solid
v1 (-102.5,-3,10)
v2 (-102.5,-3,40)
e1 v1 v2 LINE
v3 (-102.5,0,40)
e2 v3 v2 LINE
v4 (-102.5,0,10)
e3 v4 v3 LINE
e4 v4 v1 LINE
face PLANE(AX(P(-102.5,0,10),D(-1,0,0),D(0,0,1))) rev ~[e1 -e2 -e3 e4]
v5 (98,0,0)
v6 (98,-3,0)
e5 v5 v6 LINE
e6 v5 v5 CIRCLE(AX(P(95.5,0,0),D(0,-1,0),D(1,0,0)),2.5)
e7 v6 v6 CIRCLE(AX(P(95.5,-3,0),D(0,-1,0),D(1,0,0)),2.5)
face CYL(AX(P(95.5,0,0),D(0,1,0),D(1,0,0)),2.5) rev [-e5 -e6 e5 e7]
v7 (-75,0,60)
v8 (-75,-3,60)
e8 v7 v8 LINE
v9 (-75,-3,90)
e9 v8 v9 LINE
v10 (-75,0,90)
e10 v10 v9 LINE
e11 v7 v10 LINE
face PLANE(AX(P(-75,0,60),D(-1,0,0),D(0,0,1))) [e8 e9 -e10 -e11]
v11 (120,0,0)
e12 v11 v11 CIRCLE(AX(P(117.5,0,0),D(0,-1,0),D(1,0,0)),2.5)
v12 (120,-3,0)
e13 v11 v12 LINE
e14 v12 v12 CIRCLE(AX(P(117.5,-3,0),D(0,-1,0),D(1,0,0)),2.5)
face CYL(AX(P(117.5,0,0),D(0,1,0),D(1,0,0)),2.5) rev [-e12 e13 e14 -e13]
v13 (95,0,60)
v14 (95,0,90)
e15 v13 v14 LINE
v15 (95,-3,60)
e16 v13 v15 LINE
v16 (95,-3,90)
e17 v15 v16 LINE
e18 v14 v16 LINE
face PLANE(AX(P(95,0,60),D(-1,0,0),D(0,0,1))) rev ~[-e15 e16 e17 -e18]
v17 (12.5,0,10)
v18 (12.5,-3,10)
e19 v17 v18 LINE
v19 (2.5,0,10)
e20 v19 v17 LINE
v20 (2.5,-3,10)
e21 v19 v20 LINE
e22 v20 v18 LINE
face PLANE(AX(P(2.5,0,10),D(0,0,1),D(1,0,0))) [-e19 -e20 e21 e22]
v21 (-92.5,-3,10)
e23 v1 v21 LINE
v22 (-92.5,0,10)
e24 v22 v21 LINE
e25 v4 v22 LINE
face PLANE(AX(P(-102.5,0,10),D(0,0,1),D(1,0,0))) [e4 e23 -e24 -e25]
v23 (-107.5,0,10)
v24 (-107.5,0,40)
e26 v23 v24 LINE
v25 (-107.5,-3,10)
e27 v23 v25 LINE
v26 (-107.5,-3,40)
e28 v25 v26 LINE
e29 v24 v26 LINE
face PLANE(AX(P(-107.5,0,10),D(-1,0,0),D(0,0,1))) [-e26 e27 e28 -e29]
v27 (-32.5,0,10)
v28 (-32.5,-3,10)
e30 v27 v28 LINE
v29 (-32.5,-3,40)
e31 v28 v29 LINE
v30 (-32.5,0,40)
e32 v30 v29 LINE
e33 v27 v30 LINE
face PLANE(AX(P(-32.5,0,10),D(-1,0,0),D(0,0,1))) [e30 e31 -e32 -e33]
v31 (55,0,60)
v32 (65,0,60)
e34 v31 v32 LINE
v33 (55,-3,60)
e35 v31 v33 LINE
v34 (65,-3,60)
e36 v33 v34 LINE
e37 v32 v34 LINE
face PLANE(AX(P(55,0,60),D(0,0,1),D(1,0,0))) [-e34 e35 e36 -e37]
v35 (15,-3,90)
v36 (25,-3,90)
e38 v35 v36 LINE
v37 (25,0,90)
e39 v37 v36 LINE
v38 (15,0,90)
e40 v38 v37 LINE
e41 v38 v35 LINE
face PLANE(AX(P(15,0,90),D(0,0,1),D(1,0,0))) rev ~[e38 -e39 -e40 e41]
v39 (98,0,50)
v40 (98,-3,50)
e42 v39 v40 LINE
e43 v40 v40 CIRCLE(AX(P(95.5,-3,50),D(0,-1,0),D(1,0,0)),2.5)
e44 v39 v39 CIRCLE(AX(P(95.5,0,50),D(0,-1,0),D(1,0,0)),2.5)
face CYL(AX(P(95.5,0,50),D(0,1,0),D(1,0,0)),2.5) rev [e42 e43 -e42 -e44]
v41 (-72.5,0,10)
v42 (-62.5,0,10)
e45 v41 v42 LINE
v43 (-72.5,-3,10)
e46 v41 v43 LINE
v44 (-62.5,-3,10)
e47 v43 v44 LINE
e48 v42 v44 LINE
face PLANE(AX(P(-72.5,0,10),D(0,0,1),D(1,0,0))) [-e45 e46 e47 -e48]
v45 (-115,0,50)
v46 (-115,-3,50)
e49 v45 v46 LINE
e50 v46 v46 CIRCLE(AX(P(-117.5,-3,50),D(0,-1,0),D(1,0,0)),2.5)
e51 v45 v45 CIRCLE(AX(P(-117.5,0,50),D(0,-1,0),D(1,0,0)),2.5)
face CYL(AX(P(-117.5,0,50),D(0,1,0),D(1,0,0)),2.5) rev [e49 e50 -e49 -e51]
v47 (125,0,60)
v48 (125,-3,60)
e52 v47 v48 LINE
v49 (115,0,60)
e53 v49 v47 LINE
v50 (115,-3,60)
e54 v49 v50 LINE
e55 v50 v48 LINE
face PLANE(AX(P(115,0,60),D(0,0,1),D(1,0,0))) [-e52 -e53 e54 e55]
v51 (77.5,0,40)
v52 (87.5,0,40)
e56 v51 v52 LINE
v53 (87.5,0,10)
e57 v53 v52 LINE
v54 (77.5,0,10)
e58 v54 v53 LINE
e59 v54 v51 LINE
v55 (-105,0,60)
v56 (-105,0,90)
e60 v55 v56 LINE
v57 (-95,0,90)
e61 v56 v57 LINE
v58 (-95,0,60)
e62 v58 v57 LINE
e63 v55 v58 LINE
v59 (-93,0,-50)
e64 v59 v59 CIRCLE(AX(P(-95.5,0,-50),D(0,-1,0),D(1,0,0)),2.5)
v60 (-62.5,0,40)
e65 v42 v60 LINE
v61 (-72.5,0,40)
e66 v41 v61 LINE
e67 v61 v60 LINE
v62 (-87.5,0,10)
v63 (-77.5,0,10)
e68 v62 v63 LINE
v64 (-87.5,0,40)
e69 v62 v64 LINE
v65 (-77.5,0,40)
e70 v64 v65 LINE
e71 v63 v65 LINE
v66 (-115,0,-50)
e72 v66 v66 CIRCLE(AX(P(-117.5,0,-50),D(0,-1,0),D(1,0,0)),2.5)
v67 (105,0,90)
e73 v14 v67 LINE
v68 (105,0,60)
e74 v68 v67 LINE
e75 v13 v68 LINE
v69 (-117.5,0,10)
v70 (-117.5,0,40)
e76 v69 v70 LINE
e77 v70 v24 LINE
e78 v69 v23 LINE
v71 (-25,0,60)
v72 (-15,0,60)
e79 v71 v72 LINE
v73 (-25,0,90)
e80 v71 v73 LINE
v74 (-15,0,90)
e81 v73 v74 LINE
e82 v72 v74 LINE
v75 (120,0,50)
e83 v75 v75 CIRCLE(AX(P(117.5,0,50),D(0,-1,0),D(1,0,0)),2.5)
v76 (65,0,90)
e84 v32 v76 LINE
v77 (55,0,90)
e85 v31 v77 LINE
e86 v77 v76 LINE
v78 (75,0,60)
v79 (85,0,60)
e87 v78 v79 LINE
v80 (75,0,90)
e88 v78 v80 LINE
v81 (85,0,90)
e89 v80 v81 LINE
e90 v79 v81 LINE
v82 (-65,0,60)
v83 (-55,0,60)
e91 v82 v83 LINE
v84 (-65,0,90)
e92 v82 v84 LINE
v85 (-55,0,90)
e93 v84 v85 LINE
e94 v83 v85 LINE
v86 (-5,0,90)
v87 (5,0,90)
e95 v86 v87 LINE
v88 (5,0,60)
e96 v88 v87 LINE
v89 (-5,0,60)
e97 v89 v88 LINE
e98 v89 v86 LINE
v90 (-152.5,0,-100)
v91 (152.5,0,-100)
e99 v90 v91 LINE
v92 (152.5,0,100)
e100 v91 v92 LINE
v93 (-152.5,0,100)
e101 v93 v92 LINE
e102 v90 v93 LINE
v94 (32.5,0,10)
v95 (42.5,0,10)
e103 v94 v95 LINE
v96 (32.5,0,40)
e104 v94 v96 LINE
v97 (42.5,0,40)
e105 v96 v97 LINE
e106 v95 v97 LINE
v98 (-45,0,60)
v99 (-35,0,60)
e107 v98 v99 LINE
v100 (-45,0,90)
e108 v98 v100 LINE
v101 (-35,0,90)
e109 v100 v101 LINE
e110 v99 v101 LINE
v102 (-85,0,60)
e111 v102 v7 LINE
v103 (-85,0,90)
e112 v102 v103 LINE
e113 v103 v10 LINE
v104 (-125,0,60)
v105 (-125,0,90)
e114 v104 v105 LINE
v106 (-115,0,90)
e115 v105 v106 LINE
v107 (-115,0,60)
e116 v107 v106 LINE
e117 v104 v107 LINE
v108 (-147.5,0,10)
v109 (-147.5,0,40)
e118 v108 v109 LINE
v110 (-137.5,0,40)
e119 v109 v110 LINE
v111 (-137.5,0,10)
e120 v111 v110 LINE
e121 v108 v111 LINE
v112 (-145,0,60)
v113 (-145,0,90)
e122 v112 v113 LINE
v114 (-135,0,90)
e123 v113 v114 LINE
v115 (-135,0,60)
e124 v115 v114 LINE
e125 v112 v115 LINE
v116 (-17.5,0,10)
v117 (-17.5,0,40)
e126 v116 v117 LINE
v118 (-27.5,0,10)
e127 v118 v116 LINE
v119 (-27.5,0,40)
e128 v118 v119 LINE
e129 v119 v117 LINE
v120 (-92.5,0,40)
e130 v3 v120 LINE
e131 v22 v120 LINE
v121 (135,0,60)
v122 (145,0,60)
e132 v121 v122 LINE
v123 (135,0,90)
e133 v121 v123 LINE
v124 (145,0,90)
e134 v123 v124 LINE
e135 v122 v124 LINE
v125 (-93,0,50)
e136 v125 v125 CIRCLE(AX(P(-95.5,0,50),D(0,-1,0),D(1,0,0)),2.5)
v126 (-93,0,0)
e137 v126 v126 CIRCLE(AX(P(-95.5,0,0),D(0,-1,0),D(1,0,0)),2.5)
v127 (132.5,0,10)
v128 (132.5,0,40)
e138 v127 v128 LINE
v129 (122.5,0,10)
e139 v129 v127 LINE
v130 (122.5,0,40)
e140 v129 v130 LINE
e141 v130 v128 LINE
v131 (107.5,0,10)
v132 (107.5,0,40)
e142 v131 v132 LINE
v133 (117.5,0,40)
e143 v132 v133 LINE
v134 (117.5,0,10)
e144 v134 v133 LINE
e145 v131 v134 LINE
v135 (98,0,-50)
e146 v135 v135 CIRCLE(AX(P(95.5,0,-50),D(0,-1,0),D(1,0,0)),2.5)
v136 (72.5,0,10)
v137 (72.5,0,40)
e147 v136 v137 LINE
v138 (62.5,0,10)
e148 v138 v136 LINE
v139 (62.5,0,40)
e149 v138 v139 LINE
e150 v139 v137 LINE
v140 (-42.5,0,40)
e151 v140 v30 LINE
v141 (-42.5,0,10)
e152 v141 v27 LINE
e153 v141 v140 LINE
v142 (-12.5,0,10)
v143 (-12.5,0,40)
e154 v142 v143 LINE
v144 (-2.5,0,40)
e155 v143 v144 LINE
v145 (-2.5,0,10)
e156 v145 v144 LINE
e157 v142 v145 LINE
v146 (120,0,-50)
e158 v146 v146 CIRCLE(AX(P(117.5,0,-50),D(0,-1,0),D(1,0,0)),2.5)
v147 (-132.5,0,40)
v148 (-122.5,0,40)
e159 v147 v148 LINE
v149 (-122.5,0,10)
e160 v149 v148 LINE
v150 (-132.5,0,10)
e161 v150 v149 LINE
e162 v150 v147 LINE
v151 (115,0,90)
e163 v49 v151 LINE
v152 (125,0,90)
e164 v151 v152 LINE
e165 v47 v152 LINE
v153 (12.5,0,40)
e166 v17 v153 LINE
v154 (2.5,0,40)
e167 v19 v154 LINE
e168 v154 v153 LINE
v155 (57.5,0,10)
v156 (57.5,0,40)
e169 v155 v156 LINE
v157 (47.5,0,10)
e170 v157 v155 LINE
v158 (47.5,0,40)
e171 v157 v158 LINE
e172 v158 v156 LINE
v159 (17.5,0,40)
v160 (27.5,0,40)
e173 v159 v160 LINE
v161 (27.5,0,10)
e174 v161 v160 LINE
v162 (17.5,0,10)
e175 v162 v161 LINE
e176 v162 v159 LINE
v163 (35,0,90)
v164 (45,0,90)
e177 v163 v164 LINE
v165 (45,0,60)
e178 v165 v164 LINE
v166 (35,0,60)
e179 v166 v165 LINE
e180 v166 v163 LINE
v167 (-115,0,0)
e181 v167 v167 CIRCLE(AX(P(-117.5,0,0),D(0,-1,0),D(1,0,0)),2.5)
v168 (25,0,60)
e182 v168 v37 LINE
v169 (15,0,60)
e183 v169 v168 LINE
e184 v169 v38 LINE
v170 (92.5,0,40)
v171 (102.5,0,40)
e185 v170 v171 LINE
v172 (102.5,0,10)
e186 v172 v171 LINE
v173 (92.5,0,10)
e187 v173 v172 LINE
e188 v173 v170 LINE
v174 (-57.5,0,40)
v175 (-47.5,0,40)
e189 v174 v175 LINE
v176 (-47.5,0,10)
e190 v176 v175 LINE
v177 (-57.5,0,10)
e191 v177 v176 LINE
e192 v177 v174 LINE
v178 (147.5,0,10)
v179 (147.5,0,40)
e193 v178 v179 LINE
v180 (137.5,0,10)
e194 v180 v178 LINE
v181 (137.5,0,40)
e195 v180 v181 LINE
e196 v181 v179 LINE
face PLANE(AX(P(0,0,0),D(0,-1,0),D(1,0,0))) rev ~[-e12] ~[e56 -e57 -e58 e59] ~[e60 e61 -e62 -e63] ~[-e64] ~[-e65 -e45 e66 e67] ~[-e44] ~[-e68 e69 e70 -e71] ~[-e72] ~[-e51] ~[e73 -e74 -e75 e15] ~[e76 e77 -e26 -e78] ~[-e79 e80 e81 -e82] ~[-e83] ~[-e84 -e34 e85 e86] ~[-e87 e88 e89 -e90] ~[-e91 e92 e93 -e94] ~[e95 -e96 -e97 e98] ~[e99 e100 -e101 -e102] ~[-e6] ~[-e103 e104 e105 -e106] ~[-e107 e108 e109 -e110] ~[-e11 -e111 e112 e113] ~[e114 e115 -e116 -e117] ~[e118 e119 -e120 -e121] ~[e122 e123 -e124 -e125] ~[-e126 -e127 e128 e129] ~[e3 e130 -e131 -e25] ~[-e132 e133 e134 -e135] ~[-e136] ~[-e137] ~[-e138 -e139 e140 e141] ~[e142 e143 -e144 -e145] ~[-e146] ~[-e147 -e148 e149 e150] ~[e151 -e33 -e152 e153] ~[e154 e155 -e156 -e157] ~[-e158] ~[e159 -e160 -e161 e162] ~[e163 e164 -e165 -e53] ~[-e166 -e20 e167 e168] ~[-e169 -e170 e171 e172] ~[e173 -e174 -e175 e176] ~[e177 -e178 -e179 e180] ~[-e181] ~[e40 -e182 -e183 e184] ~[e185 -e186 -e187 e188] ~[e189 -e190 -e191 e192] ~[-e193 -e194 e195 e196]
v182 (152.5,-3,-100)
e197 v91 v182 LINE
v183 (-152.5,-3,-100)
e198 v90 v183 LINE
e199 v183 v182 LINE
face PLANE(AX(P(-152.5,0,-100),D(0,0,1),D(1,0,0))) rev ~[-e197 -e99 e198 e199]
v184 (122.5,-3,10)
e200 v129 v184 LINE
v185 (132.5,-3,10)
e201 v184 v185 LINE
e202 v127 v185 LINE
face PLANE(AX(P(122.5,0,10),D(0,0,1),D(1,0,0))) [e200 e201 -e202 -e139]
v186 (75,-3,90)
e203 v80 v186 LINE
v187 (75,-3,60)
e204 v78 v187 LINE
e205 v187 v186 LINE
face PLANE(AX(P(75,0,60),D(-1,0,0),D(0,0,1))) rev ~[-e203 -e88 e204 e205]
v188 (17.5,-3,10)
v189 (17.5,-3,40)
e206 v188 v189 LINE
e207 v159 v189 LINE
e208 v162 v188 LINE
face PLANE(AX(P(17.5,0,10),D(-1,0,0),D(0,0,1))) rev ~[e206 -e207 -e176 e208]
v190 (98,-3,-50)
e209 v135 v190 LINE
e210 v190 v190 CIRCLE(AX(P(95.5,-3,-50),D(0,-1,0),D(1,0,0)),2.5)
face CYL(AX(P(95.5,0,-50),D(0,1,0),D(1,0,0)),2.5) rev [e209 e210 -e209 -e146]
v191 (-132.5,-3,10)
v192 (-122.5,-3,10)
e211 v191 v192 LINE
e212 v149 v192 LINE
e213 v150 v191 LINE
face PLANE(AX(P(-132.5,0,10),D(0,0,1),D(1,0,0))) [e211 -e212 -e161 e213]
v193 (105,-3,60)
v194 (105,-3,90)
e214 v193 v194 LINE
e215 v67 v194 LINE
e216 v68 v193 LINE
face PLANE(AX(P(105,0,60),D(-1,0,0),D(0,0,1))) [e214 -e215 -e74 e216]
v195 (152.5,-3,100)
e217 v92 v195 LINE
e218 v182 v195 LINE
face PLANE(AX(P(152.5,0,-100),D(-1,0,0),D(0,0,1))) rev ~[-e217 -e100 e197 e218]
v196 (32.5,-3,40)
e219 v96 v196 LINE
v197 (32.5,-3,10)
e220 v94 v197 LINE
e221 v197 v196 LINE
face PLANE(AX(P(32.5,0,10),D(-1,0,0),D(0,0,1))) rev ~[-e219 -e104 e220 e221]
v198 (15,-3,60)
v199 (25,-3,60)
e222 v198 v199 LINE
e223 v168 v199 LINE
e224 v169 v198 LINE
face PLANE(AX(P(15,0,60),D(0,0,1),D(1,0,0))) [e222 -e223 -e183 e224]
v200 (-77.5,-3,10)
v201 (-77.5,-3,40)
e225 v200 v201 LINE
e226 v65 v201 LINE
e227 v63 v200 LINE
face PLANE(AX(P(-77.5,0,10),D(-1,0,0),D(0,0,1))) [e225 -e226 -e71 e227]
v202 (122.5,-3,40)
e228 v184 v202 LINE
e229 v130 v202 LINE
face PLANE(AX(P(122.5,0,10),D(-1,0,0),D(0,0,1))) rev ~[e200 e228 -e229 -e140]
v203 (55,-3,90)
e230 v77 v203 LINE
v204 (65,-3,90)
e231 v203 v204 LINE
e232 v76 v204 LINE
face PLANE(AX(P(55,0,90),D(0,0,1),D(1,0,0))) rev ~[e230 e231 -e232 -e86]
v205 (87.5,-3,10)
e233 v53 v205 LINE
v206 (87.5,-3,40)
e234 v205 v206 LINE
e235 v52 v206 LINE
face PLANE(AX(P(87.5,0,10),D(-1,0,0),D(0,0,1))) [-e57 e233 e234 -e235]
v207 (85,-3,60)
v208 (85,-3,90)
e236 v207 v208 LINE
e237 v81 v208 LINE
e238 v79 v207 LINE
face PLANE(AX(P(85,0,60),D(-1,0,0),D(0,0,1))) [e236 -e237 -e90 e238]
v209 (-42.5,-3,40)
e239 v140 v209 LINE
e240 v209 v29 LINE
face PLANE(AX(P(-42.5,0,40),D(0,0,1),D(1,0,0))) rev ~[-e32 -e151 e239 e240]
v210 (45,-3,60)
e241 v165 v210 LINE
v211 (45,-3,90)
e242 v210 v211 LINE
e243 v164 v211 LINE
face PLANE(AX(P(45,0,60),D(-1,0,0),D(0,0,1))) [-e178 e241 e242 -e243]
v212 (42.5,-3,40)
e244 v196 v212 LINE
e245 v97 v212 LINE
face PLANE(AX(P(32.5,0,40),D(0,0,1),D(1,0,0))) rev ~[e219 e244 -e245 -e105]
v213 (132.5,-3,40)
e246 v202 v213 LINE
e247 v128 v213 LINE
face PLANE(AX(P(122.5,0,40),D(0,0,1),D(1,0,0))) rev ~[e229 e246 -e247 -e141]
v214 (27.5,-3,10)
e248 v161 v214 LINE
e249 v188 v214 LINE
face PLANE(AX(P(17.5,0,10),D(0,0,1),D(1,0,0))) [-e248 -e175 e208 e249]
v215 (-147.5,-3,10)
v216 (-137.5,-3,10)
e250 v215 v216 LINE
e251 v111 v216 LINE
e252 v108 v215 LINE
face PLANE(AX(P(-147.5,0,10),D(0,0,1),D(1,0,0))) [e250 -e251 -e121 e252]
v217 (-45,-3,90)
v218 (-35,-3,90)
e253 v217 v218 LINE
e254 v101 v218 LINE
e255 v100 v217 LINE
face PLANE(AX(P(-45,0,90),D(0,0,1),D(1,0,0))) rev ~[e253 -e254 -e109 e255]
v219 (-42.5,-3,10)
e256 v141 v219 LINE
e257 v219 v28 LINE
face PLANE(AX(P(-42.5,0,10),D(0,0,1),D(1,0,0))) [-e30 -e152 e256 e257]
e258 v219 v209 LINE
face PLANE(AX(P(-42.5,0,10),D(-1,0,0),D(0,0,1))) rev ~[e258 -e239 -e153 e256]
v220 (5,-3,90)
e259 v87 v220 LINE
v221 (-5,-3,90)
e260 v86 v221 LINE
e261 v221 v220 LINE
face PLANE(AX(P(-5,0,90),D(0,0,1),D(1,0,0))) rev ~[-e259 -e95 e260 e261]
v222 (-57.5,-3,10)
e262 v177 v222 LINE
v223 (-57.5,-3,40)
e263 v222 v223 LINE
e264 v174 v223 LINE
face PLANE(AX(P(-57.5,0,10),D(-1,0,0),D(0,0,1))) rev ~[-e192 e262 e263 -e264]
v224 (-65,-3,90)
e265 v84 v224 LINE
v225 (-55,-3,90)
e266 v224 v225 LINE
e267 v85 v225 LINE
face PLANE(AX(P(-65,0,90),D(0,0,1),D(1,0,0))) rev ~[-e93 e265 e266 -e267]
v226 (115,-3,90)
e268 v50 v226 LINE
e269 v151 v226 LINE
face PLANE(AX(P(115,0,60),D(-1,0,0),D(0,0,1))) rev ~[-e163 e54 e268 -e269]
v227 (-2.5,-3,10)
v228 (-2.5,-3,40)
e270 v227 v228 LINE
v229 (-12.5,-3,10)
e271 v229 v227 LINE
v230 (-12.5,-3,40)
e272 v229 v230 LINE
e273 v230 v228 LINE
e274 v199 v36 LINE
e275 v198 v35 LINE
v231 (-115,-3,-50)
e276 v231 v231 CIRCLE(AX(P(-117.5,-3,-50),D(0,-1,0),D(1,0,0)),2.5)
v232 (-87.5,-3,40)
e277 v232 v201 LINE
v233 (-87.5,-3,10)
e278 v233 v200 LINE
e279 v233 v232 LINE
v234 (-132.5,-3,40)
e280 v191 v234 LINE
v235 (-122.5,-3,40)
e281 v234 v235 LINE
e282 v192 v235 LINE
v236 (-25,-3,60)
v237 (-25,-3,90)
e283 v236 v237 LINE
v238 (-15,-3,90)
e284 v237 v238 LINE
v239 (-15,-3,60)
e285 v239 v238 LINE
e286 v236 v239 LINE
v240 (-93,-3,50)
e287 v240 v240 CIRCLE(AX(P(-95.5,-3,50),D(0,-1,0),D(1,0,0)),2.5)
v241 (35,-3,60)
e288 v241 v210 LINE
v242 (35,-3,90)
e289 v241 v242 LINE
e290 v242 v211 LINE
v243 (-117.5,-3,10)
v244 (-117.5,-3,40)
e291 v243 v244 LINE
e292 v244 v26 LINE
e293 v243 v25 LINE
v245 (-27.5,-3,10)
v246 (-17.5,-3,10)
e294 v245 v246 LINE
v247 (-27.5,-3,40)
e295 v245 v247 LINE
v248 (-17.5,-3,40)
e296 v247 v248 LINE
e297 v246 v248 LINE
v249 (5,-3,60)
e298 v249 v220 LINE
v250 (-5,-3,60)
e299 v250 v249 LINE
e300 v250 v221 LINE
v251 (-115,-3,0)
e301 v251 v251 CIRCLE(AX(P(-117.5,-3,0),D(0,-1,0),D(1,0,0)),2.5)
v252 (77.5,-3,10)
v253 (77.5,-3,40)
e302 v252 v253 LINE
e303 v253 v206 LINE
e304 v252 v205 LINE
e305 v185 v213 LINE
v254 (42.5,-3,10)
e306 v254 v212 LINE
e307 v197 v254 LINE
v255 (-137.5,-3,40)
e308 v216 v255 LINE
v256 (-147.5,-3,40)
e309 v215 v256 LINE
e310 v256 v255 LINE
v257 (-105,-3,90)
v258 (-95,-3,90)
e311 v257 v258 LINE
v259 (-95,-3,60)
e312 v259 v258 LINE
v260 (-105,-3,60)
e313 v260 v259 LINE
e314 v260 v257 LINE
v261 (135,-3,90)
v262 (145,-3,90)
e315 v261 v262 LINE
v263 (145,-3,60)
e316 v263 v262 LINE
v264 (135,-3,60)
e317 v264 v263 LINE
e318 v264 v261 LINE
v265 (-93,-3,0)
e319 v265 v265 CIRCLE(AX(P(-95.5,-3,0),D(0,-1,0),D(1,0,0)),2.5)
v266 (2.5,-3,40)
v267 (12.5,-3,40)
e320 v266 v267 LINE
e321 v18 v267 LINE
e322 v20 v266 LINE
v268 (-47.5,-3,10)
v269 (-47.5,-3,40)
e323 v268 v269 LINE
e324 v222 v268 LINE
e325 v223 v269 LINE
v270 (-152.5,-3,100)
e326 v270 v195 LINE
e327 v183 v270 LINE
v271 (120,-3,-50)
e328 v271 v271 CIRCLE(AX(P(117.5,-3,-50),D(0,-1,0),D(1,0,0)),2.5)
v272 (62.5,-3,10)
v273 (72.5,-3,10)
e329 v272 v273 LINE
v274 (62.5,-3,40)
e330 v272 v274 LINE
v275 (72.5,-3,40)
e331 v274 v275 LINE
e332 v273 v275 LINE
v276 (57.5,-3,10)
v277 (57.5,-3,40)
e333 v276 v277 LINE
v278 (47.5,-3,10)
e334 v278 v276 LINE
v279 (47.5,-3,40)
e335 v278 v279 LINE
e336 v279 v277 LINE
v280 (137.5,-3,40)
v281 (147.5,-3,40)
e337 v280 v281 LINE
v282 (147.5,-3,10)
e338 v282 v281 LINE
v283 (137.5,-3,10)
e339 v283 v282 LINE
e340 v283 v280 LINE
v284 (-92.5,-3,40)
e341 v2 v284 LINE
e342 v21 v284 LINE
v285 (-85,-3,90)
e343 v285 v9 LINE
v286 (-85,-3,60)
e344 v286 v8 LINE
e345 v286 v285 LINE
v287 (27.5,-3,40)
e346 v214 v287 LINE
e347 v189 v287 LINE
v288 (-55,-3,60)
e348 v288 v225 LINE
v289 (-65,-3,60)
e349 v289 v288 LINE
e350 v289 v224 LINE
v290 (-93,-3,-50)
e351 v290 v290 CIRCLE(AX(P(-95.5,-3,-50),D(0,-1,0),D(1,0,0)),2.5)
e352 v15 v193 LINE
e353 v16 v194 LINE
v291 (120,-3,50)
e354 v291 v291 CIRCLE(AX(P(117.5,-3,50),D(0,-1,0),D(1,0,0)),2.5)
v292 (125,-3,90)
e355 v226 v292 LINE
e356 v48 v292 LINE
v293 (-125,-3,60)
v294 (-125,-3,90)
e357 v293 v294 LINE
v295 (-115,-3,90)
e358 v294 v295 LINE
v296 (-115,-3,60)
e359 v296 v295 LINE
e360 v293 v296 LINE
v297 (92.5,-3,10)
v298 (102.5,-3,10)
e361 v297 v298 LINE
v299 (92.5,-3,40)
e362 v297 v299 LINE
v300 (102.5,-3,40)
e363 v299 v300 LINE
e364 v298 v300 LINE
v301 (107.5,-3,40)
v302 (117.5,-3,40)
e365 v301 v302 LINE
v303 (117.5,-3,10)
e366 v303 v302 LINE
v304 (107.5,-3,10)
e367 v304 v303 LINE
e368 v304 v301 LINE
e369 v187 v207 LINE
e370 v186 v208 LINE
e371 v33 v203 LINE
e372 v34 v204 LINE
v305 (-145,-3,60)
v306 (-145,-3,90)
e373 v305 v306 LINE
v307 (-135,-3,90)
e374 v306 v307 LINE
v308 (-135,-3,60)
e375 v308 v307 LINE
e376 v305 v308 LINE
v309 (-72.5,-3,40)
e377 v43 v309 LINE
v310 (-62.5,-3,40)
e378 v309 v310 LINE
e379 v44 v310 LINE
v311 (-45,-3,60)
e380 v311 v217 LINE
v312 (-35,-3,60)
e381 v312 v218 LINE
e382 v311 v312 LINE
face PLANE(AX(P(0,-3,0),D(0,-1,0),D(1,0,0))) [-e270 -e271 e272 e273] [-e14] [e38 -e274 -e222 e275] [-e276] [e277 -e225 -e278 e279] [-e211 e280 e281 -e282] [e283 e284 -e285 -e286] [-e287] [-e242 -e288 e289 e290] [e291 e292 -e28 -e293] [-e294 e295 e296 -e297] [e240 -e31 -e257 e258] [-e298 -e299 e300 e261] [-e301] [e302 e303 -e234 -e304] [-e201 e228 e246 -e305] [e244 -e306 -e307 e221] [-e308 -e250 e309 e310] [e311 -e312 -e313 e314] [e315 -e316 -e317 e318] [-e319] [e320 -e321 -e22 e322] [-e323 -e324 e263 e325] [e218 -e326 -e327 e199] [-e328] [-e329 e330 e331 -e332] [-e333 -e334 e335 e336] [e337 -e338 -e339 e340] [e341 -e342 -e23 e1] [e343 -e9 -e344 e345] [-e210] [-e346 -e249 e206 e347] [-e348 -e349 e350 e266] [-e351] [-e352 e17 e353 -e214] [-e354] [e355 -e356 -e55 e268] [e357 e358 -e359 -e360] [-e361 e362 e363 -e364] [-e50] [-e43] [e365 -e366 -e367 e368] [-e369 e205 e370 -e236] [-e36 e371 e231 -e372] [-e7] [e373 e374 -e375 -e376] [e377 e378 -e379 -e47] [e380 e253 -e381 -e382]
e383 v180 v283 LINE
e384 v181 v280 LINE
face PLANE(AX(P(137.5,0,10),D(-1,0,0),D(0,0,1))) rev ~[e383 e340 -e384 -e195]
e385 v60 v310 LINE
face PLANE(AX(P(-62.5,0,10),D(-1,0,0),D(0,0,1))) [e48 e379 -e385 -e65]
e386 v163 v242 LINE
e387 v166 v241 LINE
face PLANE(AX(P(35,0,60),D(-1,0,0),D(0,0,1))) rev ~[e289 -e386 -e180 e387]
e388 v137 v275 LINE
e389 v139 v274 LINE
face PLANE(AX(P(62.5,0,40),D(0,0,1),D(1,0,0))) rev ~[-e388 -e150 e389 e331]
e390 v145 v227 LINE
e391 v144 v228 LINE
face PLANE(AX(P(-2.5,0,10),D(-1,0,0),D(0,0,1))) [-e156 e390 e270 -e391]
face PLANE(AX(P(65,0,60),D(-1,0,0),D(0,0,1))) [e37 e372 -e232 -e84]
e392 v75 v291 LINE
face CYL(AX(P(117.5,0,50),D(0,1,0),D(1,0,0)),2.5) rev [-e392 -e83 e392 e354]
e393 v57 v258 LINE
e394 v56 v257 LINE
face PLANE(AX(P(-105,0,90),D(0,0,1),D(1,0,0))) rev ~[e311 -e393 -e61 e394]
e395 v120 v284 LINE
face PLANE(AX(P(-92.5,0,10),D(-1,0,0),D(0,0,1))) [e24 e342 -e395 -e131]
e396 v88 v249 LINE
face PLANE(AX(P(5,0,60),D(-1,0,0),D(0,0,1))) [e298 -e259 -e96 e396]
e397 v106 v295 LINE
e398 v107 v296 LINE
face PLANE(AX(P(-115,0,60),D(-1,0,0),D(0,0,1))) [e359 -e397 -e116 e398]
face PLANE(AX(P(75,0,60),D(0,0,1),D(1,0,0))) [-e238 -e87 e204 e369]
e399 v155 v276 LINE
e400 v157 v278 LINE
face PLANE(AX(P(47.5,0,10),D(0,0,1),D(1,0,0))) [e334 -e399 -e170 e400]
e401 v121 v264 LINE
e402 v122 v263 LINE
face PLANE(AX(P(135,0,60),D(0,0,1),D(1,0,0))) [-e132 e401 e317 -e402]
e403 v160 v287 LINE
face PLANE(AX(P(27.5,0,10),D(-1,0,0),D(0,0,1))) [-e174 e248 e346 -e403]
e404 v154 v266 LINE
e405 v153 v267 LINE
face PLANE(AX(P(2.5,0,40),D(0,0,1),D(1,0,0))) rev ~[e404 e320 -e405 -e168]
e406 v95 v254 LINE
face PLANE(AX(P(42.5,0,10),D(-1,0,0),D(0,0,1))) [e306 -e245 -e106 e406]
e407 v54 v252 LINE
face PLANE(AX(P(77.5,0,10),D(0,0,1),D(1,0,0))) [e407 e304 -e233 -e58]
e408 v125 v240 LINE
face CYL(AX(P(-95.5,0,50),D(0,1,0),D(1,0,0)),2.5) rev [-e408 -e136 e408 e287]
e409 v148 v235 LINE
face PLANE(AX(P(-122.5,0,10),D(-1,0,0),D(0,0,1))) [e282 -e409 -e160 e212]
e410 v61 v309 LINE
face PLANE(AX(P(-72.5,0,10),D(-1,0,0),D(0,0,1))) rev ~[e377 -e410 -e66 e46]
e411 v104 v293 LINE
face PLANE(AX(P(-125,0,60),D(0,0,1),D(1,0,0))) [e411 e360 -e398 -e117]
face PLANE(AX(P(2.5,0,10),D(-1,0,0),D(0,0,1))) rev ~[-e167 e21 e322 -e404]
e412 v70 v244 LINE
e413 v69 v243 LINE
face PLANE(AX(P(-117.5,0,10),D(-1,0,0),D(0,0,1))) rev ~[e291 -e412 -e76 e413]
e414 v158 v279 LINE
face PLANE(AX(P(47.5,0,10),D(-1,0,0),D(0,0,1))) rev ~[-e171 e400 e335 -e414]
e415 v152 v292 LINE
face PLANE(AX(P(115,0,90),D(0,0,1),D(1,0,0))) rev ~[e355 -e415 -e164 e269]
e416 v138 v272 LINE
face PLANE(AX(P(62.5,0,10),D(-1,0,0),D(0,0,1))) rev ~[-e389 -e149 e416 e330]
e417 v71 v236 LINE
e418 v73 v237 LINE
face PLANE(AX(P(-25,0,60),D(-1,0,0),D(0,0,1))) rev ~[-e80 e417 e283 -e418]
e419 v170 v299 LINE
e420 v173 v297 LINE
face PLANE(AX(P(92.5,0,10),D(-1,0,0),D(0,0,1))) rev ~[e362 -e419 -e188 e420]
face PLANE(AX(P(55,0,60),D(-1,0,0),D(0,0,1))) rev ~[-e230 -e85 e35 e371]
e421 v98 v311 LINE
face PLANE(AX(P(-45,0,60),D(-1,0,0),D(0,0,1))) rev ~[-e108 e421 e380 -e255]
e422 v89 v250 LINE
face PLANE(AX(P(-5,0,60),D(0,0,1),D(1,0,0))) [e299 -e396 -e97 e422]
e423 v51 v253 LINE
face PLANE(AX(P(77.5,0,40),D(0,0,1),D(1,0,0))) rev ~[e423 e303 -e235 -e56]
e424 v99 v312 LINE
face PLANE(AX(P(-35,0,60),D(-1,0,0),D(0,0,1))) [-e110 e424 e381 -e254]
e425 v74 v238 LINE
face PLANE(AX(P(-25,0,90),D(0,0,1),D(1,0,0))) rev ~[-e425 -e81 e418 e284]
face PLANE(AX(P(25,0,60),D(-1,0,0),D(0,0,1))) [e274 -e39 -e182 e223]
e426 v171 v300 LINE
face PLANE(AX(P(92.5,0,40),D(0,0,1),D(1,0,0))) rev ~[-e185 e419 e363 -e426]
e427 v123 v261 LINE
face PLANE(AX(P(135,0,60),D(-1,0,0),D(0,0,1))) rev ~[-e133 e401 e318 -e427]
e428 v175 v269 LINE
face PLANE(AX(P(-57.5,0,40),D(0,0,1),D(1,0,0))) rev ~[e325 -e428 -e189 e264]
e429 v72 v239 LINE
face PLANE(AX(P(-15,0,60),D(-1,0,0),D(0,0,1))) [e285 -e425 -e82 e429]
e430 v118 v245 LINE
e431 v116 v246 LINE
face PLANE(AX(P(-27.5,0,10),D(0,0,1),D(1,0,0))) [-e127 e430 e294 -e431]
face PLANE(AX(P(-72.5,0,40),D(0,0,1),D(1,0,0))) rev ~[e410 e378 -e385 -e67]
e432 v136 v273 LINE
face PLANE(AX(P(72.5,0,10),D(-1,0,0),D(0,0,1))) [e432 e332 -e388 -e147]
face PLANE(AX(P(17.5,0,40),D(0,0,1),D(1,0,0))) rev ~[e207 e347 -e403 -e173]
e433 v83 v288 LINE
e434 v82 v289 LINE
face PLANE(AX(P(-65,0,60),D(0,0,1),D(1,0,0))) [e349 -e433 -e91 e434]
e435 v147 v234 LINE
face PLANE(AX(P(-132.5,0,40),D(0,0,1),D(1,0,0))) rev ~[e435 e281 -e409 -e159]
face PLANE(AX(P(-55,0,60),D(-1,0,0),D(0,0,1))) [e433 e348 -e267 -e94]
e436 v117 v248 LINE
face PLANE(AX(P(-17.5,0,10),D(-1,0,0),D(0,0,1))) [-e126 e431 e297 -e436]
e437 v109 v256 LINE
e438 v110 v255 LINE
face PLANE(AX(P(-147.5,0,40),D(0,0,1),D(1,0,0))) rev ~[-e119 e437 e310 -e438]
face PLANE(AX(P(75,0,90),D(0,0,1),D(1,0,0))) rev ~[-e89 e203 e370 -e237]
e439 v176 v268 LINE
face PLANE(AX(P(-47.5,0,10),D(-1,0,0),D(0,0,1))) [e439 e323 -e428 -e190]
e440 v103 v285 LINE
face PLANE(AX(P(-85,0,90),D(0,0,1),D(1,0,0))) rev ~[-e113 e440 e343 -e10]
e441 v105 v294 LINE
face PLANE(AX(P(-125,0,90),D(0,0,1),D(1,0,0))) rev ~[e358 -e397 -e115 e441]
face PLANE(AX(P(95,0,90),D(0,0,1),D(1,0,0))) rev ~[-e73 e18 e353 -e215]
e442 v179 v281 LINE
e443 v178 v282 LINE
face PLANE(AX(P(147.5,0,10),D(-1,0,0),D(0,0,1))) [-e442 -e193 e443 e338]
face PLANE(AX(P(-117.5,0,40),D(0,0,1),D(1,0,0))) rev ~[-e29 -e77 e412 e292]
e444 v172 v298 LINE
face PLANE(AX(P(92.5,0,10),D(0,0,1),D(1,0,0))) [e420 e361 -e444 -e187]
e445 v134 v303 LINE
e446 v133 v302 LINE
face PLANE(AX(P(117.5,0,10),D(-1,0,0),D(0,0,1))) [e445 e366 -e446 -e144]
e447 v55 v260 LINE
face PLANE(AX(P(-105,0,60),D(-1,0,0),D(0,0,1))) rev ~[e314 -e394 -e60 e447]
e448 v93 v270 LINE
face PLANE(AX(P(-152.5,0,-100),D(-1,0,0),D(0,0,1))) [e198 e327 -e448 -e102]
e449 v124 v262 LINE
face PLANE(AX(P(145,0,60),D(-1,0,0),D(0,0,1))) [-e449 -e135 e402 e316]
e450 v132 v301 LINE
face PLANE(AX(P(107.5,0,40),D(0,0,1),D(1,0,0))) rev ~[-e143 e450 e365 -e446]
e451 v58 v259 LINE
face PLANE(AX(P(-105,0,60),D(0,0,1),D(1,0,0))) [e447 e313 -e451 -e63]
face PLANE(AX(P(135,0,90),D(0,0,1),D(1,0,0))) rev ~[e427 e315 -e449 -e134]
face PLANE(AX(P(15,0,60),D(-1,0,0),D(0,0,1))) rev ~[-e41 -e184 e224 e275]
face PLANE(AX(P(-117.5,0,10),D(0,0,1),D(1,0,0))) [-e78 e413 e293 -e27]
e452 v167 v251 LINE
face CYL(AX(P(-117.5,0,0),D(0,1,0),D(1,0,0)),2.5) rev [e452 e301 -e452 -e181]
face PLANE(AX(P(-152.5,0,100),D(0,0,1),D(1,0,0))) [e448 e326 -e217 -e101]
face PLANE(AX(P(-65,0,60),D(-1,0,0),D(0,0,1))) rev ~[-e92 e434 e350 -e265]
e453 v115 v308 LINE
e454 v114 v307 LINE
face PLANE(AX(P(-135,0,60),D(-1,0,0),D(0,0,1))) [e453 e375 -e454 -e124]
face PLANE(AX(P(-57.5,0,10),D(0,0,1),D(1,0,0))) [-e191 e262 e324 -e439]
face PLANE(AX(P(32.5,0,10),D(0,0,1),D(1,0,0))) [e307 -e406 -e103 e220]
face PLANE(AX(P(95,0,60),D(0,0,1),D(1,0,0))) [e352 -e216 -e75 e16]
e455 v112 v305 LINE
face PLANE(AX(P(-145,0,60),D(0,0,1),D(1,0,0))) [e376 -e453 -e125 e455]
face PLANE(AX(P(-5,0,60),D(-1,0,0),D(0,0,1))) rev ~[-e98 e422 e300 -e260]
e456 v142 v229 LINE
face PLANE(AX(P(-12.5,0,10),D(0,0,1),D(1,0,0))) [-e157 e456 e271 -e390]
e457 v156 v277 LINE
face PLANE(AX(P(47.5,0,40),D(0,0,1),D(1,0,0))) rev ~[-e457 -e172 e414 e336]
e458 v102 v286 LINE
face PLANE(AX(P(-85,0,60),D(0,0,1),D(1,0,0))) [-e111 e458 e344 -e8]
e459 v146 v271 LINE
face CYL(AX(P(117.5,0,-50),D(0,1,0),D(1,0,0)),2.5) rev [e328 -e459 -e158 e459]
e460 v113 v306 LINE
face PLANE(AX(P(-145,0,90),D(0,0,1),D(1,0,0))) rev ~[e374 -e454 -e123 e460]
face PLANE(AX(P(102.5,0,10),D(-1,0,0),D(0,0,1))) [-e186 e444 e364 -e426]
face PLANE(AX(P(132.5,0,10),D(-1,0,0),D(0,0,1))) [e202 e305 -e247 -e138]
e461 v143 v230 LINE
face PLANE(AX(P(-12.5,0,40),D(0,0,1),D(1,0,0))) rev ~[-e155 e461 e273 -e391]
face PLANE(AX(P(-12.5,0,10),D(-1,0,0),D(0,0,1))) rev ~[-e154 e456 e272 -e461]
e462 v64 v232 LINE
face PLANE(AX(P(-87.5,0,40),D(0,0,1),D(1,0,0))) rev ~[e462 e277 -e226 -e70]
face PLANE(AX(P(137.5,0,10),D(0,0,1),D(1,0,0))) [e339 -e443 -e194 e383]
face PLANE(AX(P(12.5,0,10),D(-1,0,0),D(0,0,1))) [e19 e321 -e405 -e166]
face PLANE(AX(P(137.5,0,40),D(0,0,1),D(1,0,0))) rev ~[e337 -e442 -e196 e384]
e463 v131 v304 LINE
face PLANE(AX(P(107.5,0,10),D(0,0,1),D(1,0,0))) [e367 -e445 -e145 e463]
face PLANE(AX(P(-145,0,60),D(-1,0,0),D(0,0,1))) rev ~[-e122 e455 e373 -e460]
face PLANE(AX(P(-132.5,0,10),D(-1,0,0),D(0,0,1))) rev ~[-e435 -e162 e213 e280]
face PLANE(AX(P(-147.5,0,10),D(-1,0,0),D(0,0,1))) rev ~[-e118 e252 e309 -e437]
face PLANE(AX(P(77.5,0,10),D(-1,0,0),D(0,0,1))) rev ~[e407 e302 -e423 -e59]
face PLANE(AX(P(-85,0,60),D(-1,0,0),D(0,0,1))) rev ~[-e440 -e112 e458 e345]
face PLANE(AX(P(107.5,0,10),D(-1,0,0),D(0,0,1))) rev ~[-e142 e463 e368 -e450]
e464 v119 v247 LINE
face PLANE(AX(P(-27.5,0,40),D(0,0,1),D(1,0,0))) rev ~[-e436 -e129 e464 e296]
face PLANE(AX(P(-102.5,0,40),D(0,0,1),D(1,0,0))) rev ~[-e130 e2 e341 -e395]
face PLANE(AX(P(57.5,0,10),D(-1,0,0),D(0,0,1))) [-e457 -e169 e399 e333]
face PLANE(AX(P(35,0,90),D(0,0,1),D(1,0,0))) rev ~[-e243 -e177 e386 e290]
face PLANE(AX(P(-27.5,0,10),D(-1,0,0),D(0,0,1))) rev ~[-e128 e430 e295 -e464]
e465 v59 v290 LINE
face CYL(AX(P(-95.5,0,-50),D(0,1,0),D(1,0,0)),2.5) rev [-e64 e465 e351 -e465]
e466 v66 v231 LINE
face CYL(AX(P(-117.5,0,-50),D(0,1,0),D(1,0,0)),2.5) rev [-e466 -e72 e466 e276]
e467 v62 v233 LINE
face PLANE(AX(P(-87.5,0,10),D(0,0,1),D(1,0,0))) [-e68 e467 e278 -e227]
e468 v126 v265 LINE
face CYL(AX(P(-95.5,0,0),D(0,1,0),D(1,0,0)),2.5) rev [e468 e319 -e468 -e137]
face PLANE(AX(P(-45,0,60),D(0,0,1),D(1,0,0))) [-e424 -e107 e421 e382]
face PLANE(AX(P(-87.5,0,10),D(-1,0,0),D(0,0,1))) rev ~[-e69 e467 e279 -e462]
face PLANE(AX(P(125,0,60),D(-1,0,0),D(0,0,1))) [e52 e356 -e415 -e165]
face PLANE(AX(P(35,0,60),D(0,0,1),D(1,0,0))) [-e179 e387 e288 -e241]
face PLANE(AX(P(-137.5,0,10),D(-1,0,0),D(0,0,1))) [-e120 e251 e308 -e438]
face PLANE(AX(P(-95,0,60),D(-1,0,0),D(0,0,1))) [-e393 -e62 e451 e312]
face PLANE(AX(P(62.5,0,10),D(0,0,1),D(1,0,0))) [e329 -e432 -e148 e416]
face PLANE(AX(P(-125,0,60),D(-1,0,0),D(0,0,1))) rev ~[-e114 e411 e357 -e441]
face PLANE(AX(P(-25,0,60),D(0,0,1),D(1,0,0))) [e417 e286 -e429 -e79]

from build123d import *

# Parameters (mm, degrees)
F0_W     = 305
F0_H     = 200
F0_R     = 2.5
F0_W_2   = 10
F0_H_2   = 30
F1_DEPTH = 3


with BuildPart() as f1:
    # F0 (on Front) → F1 (new body)
    with BuildSketch(Plane.XZ):
        Rectangle(F0_W, F0_H)
        with Locations((-117.5, -50)):
            Circle(F0_R, mode=Mode.SUBTRACT)
        with Locations((-95.5, -50)):
            Circle(F0_R, mode=Mode.SUBTRACT)
        with Locations((95.5, -50)):
            Circle(F0_R, mode=Mode.SUBTRACT)
        with Locations((117.5, -50)):
            Circle(F0_R, mode=Mode.SUBTRACT)
        with Locations((-117.5, 0)):
            Circle(F0_R, mode=Mode.SUBTRACT)
        with Locations((-95.5, 0)):
            Circle(F0_R, mode=Mode.SUBTRACT)
        with Locations((-142.5, 25)):
            Rectangle(F0_W_2, F0_H_2, mode=Mode.SUBTRACT)
        with Locations((-127.5, 25)):
            Rectangle(F0_W_2, F0_H_2, mode=Mode.SUBTRACT)
        with Locations((-112.5, 25)):
            Rectangle(F0_W_2, F0_H_2, mode=Mode.SUBTRACT)
        with Locations((-97.5, 25)):
            Rectangle(F0_W_2, F0_H_2, mode=Mode.SUBTRACT)
        with Locations((-82.5, 25)):
            Rectangle(F0_W_2, F0_H_2, mode=Mode.SUBTRACT)
        with Locations((-67.5, 25)):
            Rectangle(F0_W_2, F0_H_2, mode=Mode.SUBTRACT)
        with Locations((-52.5, 25)):
            Rectangle(F0_W_2, F0_H_2, mode=Mode.SUBTRACT)
        with Locations((-37.5, 25)):
            Rectangle(F0_W_2, F0_H_2, mode=Mode.SUBTRACT)
        with Locations((-22.5, 25)):
            Rectangle(F0_W_2, F0_H_2, mode=Mode.SUBTRACT)
        with Locations((-7.5, 25)):
            Rectangle(F0_W_2, F0_H_2, mode=Mode.SUBTRACT)
        with Locations((-117.5, 50)):
            Circle(F0_R, mode=Mode.SUBTRACT)
        with Locations((-95.5, 50)):
            Circle(F0_R, mode=Mode.SUBTRACT)
        with Locations((-140, 75)):
            Rectangle(F0_W_2, F0_H_2, mode=Mode.SUBTRACT)
        with Locations((-120, 75)):
            Rectangle(F0_W_2, F0_H_2, mode=Mode.SUBTRACT)
        with Locations((-100, 75)):
            Rectangle(F0_W_2, F0_H_2, mode=Mode.SUBTRACT)
        with Locations((-80, 75)):
            Rectangle(F0_W_2, F0_H_2, mode=Mode.SUBTRACT)
        with Locations((-60, 75)):
            Rectangle(F0_W_2, F0_H_2, mode=Mode.SUBTRACT)
        with Locations((-40, 75)):
            Rectangle(F0_W_2, F0_H_2, mode=Mode.SUBTRACT)
        with Locations((-20, 75)):
            Rectangle(F0_W_2, F0_H_2, mode=Mode.SUBTRACT)
        with Locations((7.5, 25)):
            Rectangle(F0_W_2, F0_H_2, mode=Mode.SUBTRACT)
        with Locations((22.5, 25)):
            Rectangle(F0_W_2, F0_H_2, mode=Mode.SUBTRACT)
        with Locations((37.5, 25)):
            Rectangle(F0_W_2, F0_H_2, mode=Mode.SUBTRACT)
        with Locations((52.5, 25)):
            Rectangle(F0_W_2, F0_H_2, mode=Mode.SUBTRACT)
        with Locations((67.5, 25)):
            Rectangle(F0_W_2, F0_H_2, mode=Mode.SUBTRACT)
        with Locations((95.5, 0)):
            Circle(F0_R, mode=Mode.SUBTRACT)
        with Locations((117.5, 0)):
            Circle(F0_R, mode=Mode.SUBTRACT)
        with Locations((82.5, 25)):
            Rectangle(F0_W_2, F0_H_2, mode=Mode.SUBTRACT)
        with Locations((97.5, 25)):
            Rectangle(F0_W_2, F0_H_2, mode=Mode.SUBTRACT)
        with Locations((112.5, 25)):
            Rectangle(F0_W_2, F0_H_2, mode=Mode.SUBTRACT)
        with Locations((127.5, 25)):
            Rectangle(F0_W_2, F0_H_2, mode=Mode.SUBTRACT)
        with Locations((142.5, 25)):
            Rectangle(F0_W_2, F0_H_2, mode=Mode.SUBTRACT)
        with Locations((0, 75)):
            Rectangle(F0_W_2, F0_H_2, mode=Mode.SUBTRACT)
        with Locations((20, 75)):
            Rectangle(F0_W_2, F0_H_2, mode=Mode.SUBTRACT)
        with Locations((40, 75)):
            Rectangle(F0_W_2, F0_H_2, mode=Mode.SUBTRACT)
        with Locations((60, 75)):
            Rectangle(F0_W_2, F0_H_2, mode=Mode.SUBTRACT)
        with Locations((95.5, 50)):
            Circle(F0_R, mode=Mode.SUBTRACT)
        with Locations((117.5, 50)):
            Circle(F0_R, mode=Mode.SUBTRACT)
        with Locations((80, 75)):
            Rectangle(F0_W_2, F0_H_2, mode=Mode.SUBTRACT)
        with Locations((100, 75)):
            Rectangle(F0_W_2, F0_H_2, mode=Mode.SUBTRACT)
        with Locations((120, 75)):
            Rectangle(F0_W_2, F0_H_2, mode=Mode.SUBTRACT)
        with Locations((140, 75)):
            Rectangle(F0_W_2, F0_H_2, mode=Mode.SUBTRACT)
    extrude(amount=F1_DEPTH)


solid = f1.part
